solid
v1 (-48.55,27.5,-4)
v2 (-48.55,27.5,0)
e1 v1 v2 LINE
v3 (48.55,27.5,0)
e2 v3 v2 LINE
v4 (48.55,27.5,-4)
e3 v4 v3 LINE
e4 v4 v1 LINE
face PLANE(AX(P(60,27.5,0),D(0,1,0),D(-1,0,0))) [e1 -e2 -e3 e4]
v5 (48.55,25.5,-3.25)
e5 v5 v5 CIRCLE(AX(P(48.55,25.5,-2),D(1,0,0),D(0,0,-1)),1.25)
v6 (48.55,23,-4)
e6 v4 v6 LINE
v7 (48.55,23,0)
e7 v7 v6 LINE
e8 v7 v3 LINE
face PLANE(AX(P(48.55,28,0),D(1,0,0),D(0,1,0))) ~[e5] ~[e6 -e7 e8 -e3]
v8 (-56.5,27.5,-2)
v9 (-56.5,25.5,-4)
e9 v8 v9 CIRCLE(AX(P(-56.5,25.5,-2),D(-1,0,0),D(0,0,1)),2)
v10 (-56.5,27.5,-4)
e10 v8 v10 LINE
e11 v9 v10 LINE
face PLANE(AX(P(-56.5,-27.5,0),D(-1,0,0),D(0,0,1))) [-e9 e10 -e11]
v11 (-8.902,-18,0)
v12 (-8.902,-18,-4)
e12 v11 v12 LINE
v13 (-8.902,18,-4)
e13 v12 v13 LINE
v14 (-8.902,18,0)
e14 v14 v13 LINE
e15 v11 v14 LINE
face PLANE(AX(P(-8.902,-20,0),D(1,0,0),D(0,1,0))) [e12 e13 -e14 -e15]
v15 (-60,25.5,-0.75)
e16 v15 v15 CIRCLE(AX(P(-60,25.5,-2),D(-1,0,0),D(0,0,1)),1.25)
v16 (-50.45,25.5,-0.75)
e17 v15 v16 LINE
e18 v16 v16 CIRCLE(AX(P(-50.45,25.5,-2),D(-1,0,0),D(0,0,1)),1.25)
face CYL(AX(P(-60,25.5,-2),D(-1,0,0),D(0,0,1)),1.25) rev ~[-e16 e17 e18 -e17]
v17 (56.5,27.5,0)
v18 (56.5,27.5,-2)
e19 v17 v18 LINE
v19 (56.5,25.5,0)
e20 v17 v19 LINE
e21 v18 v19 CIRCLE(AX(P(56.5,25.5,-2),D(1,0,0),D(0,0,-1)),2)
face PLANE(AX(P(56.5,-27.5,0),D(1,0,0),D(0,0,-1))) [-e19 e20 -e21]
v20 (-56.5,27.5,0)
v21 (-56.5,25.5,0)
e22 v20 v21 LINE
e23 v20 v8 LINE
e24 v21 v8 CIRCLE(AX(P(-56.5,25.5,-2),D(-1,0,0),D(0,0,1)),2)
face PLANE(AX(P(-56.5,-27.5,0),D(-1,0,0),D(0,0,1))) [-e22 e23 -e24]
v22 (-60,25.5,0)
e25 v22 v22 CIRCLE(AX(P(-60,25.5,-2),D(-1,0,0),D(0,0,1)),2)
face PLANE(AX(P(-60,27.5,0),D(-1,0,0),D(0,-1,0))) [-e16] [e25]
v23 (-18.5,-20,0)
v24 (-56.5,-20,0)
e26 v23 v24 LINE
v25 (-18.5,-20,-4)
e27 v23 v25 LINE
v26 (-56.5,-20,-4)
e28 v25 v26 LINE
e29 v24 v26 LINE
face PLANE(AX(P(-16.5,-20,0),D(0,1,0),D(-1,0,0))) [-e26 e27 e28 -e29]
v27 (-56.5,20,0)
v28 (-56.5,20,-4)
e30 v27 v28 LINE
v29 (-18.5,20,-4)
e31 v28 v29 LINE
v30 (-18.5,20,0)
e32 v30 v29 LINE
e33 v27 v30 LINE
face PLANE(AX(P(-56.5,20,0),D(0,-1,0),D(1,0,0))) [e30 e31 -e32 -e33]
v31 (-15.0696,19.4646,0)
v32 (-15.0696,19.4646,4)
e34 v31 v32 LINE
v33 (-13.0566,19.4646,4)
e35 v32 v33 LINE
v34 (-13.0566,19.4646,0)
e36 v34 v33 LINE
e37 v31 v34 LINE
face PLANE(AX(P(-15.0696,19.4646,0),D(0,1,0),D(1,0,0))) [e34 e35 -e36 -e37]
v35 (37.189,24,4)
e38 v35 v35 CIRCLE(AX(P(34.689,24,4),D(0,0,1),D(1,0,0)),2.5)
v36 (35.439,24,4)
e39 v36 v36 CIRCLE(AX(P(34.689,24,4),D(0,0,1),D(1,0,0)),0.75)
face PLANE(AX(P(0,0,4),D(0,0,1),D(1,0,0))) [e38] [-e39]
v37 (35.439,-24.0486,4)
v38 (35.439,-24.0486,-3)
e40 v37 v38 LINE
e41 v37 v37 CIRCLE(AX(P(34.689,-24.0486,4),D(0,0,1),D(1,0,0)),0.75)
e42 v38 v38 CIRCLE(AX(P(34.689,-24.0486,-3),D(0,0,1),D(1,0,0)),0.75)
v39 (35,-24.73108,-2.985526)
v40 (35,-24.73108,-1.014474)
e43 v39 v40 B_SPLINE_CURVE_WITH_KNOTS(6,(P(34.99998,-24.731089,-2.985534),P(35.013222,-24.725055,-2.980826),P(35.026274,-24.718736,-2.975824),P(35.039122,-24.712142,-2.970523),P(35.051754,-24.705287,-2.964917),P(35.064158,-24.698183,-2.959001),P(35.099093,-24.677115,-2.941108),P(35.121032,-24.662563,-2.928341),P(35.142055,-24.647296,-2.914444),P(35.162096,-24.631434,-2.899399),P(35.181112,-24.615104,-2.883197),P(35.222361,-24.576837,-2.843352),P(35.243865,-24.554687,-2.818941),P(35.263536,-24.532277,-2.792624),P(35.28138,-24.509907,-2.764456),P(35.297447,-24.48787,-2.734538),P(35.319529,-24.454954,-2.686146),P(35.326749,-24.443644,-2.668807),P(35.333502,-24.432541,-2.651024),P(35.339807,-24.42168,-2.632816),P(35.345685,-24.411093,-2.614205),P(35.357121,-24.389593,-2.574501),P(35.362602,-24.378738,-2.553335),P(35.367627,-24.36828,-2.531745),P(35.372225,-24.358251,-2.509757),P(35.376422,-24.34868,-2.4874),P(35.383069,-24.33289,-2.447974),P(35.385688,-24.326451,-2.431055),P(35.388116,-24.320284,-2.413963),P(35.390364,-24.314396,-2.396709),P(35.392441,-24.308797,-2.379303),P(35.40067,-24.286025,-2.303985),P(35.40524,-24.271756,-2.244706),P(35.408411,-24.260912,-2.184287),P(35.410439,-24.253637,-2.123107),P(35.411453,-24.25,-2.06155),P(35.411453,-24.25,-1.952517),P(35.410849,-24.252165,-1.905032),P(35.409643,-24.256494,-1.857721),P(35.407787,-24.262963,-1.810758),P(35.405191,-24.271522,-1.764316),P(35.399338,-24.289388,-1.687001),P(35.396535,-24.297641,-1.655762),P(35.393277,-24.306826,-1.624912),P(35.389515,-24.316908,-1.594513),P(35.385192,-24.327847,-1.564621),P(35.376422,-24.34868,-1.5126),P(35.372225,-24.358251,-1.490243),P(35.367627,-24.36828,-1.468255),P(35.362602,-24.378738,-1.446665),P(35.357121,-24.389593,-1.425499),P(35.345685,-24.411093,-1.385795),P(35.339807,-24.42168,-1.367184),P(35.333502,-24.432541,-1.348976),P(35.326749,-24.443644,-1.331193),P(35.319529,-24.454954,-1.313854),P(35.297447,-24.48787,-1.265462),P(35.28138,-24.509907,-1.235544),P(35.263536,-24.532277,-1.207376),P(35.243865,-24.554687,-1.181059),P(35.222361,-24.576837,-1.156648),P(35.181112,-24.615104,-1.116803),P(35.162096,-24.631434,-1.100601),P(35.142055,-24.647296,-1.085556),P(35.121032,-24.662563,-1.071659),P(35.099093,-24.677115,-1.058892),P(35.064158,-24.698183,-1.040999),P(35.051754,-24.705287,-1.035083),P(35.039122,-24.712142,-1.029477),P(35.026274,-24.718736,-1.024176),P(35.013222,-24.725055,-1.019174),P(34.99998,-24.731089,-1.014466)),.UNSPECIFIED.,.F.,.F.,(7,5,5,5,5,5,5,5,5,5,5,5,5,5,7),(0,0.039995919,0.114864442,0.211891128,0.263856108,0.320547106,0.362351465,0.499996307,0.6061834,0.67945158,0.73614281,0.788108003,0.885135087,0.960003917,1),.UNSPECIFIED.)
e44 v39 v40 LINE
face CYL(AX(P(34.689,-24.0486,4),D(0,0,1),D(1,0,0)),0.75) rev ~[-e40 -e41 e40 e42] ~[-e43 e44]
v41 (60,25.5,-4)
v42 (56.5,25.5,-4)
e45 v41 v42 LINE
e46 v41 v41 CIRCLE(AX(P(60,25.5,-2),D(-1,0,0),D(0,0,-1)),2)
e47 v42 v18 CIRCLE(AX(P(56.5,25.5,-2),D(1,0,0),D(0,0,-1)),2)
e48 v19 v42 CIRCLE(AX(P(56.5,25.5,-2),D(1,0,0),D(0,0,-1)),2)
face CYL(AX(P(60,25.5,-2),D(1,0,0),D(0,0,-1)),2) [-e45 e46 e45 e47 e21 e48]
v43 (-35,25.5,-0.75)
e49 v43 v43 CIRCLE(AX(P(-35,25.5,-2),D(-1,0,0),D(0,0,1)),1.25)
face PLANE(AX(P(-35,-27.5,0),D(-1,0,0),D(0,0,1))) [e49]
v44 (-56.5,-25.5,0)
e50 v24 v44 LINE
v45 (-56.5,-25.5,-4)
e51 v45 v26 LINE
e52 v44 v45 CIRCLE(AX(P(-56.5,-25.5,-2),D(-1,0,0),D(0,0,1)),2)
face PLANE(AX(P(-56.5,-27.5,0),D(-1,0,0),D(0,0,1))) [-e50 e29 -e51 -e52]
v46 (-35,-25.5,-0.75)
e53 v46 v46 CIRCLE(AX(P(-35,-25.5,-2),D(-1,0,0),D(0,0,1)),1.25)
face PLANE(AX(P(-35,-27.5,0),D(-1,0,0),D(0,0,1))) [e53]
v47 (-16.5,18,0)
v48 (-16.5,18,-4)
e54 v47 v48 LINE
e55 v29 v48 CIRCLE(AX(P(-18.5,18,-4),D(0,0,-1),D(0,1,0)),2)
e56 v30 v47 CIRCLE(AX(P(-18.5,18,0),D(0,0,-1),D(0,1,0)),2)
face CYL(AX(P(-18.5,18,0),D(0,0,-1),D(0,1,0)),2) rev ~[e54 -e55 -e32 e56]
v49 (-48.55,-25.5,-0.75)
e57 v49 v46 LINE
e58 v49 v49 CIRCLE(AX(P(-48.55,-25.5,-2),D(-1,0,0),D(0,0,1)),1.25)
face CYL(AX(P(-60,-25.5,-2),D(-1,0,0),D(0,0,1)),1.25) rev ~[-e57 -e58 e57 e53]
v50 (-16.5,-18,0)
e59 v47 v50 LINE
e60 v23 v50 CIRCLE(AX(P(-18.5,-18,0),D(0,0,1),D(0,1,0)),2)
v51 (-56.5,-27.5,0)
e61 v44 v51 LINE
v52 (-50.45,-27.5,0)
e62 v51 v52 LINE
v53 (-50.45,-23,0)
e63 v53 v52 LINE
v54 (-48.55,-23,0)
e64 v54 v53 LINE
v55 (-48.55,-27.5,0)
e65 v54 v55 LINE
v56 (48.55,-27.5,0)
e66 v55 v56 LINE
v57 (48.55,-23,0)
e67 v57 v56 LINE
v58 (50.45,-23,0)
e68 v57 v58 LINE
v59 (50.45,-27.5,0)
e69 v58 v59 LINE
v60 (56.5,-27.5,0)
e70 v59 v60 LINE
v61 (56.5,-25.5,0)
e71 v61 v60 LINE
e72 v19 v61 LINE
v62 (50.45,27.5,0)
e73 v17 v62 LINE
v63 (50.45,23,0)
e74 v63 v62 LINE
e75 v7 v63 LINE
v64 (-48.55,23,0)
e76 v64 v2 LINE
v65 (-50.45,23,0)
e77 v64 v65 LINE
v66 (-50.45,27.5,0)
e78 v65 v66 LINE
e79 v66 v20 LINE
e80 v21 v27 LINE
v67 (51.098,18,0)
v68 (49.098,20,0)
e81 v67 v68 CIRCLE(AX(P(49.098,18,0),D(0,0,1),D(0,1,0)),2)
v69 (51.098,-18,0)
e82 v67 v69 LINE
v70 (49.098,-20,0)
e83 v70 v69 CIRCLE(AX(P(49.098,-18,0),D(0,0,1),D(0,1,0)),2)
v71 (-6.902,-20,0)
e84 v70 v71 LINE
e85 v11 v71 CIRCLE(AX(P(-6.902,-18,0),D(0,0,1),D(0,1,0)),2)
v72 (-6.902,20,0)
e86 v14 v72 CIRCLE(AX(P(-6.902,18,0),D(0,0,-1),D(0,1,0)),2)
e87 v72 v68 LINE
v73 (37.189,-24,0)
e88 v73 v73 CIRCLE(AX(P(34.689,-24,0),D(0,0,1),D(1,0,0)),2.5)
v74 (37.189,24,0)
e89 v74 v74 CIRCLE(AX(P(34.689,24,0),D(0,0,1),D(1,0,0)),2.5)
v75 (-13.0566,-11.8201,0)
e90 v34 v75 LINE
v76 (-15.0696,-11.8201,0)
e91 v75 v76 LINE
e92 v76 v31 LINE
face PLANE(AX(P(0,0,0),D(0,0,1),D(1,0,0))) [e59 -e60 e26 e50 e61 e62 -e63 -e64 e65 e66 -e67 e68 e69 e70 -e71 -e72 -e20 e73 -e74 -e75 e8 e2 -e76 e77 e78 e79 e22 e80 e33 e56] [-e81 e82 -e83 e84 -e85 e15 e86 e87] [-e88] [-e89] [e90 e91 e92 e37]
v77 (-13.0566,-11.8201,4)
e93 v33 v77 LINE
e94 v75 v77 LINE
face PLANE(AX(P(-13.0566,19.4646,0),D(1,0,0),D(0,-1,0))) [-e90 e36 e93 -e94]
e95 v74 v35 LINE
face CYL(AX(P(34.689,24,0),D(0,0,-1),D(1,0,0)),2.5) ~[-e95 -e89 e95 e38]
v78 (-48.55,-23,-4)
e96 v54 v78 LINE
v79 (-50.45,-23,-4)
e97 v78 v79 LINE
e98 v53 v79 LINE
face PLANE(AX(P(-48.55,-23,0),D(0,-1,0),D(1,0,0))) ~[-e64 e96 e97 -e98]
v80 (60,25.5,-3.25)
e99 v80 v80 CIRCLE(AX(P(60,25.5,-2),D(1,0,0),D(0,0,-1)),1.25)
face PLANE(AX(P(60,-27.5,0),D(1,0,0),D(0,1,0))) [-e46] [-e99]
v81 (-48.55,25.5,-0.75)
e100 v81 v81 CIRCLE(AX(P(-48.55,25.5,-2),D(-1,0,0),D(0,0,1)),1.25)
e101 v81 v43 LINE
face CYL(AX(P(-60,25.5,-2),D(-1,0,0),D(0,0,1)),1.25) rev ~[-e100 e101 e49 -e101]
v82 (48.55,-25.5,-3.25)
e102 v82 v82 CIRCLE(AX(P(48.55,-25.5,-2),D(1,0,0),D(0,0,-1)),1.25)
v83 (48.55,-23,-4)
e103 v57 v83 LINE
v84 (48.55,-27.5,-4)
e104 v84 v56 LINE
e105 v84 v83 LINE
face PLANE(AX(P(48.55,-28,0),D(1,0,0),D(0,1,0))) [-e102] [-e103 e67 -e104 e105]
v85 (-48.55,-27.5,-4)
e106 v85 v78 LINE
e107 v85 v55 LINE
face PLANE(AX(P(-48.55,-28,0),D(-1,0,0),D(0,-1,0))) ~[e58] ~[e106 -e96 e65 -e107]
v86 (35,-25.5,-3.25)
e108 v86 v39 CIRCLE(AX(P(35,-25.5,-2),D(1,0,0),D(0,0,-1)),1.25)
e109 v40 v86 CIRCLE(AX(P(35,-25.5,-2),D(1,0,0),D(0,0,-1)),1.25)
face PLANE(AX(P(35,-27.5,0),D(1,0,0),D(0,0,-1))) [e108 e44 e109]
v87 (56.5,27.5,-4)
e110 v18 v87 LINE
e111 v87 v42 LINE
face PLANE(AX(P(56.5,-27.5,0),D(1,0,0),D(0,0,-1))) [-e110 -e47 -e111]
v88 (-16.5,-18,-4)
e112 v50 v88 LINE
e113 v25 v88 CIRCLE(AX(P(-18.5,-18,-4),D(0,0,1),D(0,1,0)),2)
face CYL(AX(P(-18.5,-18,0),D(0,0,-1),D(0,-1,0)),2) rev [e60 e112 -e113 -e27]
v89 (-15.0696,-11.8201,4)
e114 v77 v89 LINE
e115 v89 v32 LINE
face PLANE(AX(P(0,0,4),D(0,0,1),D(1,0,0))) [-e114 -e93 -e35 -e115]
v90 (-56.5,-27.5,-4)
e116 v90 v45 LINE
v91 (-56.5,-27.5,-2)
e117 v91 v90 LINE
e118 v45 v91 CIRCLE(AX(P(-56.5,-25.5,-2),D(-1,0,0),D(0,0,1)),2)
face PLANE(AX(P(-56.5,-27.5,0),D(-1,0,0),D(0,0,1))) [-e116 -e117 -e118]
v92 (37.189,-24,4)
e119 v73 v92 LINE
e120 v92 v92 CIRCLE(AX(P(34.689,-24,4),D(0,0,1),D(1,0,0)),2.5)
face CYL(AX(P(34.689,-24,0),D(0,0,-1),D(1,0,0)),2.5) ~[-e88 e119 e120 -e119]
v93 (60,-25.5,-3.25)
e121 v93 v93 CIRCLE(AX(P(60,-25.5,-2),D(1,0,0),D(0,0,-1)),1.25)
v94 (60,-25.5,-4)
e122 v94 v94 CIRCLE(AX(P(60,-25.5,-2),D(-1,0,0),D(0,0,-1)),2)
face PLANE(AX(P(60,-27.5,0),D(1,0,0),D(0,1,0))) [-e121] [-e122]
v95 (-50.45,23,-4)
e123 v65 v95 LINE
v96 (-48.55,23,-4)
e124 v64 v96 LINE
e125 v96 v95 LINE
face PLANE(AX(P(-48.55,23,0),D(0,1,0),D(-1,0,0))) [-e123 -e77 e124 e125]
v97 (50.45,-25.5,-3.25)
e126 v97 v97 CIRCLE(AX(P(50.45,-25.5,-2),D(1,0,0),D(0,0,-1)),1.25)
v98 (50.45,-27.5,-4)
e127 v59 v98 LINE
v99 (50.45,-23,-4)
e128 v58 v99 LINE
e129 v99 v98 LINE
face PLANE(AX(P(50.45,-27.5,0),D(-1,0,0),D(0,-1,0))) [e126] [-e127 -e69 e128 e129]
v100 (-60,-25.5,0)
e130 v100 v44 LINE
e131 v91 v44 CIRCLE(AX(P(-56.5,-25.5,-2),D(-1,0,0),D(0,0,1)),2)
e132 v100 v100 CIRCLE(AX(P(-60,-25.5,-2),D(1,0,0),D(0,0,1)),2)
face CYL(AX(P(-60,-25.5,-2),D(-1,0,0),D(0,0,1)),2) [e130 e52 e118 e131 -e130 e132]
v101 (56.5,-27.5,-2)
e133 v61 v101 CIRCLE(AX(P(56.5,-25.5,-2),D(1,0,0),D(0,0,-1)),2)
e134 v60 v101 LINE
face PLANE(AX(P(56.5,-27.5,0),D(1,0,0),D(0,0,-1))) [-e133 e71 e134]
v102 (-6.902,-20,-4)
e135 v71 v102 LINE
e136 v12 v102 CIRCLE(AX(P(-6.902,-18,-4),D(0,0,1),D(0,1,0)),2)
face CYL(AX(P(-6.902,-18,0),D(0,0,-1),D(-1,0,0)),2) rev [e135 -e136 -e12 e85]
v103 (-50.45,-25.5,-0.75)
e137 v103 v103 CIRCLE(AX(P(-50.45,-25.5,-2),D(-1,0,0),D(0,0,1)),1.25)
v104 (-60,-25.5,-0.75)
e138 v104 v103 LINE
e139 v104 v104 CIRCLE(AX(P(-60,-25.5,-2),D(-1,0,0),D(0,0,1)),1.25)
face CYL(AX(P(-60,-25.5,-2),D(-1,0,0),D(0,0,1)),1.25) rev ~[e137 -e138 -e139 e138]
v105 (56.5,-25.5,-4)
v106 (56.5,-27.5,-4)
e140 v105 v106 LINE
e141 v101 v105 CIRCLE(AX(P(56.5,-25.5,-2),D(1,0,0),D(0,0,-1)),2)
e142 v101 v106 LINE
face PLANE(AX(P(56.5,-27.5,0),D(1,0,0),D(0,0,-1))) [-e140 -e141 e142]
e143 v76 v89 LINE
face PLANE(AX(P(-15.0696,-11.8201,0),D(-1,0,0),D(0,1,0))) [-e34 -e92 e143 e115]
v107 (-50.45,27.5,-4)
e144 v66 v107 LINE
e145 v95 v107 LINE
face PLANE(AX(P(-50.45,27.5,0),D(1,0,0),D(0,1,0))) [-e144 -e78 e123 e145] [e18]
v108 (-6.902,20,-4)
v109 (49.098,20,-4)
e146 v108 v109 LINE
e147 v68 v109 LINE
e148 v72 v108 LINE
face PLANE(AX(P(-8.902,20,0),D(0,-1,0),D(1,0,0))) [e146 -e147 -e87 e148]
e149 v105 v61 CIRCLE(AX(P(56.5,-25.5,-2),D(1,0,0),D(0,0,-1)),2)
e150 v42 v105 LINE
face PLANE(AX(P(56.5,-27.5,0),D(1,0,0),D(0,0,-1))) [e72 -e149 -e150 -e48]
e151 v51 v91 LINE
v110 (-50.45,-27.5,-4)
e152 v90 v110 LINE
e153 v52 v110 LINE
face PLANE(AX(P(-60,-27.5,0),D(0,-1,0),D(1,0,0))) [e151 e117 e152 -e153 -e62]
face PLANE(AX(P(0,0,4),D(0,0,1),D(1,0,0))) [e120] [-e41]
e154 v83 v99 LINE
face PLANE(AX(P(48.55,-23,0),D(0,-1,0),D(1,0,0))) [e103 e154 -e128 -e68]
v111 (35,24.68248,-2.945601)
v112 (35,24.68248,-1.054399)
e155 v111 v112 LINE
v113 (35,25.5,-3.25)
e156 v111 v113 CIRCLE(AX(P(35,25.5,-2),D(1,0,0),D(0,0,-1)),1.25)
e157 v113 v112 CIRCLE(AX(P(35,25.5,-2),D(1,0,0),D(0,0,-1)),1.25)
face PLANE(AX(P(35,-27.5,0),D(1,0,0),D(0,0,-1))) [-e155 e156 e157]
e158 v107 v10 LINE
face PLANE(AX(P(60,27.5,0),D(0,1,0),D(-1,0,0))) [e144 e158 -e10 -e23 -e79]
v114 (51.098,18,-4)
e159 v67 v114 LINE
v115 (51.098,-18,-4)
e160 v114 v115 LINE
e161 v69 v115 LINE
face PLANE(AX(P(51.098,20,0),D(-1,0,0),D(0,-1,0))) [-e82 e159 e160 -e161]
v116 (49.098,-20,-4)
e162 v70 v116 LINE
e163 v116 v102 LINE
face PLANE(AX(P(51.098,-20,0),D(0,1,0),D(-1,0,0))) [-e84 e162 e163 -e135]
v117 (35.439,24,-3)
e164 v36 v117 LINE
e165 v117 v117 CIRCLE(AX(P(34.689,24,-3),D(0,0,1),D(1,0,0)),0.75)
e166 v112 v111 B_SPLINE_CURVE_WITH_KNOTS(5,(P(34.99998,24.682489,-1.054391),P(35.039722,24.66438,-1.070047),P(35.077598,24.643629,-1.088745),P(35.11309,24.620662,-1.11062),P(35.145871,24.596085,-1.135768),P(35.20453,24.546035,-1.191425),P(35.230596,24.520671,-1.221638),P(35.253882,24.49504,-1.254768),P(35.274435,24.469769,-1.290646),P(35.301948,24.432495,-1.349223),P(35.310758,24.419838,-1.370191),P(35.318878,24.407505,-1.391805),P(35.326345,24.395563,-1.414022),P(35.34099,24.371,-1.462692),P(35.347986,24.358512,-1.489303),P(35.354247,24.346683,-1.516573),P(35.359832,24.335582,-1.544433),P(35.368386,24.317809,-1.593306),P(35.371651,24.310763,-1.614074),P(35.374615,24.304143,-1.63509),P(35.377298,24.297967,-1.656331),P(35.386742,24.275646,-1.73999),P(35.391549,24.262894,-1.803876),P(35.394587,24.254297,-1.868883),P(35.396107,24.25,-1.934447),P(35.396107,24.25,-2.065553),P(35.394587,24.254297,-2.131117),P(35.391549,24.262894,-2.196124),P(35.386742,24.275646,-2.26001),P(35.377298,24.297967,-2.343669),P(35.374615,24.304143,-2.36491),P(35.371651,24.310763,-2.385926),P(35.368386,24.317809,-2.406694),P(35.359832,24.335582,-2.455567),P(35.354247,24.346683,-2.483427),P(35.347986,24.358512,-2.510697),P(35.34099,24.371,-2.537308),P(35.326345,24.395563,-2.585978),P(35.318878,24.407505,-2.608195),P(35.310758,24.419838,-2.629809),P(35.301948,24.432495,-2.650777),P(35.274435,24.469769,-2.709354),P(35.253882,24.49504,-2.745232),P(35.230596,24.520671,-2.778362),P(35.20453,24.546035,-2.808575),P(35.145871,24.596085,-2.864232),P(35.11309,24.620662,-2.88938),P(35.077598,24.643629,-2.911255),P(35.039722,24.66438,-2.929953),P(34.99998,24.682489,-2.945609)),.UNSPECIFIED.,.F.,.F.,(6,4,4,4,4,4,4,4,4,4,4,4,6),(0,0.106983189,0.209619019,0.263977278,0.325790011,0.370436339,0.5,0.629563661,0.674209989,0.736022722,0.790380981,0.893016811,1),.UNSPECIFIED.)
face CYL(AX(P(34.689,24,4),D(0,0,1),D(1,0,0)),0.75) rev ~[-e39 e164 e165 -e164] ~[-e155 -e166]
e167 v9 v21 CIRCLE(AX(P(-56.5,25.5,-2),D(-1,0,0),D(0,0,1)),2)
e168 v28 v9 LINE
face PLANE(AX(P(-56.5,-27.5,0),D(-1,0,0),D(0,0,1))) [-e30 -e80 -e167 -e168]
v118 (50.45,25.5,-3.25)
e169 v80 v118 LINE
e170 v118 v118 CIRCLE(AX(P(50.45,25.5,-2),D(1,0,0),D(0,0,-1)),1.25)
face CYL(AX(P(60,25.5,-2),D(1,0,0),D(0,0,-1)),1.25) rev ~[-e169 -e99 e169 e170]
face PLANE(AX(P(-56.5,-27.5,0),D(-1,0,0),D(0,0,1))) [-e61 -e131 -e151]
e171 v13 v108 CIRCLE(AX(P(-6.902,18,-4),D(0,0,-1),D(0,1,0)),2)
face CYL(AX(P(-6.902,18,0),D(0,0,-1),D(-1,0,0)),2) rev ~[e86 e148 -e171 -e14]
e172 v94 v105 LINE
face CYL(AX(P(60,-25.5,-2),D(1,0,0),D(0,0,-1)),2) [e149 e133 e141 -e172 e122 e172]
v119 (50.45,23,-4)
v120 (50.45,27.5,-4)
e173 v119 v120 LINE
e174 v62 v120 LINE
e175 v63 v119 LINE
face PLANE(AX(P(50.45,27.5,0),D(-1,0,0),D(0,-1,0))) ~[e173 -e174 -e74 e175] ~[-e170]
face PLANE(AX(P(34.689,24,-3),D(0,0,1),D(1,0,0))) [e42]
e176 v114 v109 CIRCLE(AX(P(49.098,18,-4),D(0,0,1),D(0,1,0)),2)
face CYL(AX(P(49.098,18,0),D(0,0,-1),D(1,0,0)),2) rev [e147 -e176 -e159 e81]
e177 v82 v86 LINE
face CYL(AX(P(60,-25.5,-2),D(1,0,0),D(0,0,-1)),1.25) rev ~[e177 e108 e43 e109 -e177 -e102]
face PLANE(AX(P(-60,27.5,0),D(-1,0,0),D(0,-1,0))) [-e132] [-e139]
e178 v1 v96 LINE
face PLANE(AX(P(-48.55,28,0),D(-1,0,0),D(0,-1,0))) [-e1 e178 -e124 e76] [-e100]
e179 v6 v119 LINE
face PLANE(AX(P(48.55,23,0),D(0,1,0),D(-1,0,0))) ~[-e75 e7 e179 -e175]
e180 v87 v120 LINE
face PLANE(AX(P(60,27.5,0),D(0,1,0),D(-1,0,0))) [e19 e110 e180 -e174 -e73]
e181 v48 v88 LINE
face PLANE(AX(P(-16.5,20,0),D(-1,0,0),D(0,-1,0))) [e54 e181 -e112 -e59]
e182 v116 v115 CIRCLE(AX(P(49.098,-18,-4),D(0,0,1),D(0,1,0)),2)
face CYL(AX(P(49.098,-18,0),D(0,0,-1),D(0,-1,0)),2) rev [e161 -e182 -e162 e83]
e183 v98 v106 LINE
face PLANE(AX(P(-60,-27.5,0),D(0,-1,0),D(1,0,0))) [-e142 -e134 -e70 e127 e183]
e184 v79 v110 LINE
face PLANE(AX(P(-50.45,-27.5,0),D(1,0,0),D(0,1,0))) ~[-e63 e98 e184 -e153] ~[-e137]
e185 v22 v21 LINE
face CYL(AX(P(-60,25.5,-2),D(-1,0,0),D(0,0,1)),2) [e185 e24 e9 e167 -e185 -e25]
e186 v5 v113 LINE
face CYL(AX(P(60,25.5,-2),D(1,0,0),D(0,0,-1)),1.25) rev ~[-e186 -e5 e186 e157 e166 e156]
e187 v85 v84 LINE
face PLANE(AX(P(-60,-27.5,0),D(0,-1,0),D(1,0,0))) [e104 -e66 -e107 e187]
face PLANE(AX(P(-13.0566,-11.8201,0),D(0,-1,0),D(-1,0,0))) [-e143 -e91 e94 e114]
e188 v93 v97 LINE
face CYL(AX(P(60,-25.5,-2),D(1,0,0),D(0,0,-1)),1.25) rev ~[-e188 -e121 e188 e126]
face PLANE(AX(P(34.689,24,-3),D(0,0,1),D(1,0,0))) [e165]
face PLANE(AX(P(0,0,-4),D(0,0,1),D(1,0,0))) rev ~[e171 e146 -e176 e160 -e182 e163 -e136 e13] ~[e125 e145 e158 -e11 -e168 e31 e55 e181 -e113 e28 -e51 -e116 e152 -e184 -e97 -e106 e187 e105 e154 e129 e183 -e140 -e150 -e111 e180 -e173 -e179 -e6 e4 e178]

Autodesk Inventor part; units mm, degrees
ref_plane "YZ Plane" through (0, 0, 0) normal (1, 0, 0) x (0, 1, 0)
sketch "Sketch1" plane through (0, 0, 0) normal (0, 0, 1) x (1, 0, 0)
  line L0 (-60, -27.5) -> (60, -27.5)
  line L1 (60, -27.5) -> (60, 27.5)
  line L2 (60, 27.5) -> (-60, 27.5)
  line L3 (-60, 27.5) -> (-60, -27.5)
  line L4 (-60, -27.5) -> (60, 27.5) construction
  line L5 (60, -27.5) -> (-60, 27.5) construction
  point P0 (0, 0)
  dimension "d0" = 120
  dimension "d1" = 55
extrude "Extrusion1" add sketch "Sketch1" against normal blind 4
sketch "Sketch2" plane through (60, -27.5, 0) normal (1, 0, 0) x (0, 0, -1)
  circle A0 centre (2, 2) radius 2
  line L0 (0, 0) -> (4, 0) projected
  line L1 (4, 55) -> (4, 0) projected
  circle A1 centre (2, 2) radius 1.25
  circle A2 centre (2, 53) radius 2
  line L2 (0, 55) -> (4, 55) projected
  circle A3 centre (2, 53) radius 1.25
  line L3 (0, 55) -> (0, 0) projected
  line L4 (0, 55) -> (4, 55)
  line L5 (4, 55) -> (4, 0)
  line L6 (4, 0) -> (0, 0)
  line L7 (0, 0) -> (0, 55)
  point P0 (0, 27.5)
  dimension "d4" = 4
  dimension "d5" = 2.5
  dimension "d6" = 4
  dimension "d7" = 2.5
extrude "Extrusion2" cut sketch "Sketch2" against normal blind 3.5 contours L1 L0 A0 | A0 L3 A2 L1 | A0 L0 L3 | A2 L2 L1 | L3 L2 A2
extrude "Extrusion3" cut sketch "Sketch2" against normal blind 25 contours A1
extrude "Extrusion4" cut sketch "Sketch2" against normal blind 25 contours A3
sketch "Sketch3" plane through (-60, -27.5, 0) normal (-1, 0, 0) x (0, 0, 1)
  circle A0 centre (-2, 2) radius 2
  circle A1 centre (-2, 53) radius 2
  line L0 (0, 0) -> (-4, 0) projected
  line L1 (-4, 0) -> (-4, 55) projected
  line L2 (0, 55) -> (-4, 55) projected
  line L3 (0, 55) -> (0, 0) projected
  line L4 (-4, 0) -> (0, 0)
  line L5 (0, 0) -> (0, 55)
  line L6 (0, 55) -> (-4, 55)
  line L7 (-4, 55) -> (-4, 0)
  circle A2 centre (-2, 2) radius 1.25 projected
  circle A3 centre (-2, 2) radius 1.25
  circle A4 centre (-2, 53) radius 1.25 projected
  circle A5 centre (-2, 53) radius 1.25
  point P0 (0, 27.5)
  dimension "d14" = 4
  dimension "d15" = 4
  dimension "d16" = 2.5
  dimension "d17" = 2.5
extrude "Extrusion5" cut sketch "Sketch3" against normal blind 3.5 contours L3 L0 A0 | A0 L1 A1 L3 | A0 L0 L1 | A1 L2 L3 | L1 L2 A1
extrude "Extrusion6" cut sketch "Sketch3" against normal blind 25 contours A4
extrude "Extrusion7" cut sketch "Sketch3" against normal blind 25 contours A2
sketch "Sketch4" plane through (0, 0, 0) normal (0, 0, 1) x (1, 0, 0)
  line L0 (-56.5, 27.5) -> (56.5, 27.5) projected
  line L1 (56.5, -27.5) -> (-56.5, -27.5) projected
  line L2 (-56.5, 27.5) -> (56.5, 27.5)
  line L3 (56.5, 27.5) -> (56.5, -27.5)
  line L4 (56.5, -27.5) -> (-56.5, -27.5)
  line L5 (-56.5, -27.5) -> (-56.5, 27.5)
  line L6 (-73.441, 25.5) -> (75.6749, 25.5) construction
  line L7 (-49.5, 37.9771) -> (-49.5, -42.6684) construction
  line L8 (-50.45, 28) -> (-48.55, 28)
  line L9 (-48.55, 28) -> (-48.55, 23)
  line L10 (-48.55, 23) -> (-50.45, 23)
  line L11 (-50.45, 23) -> (-50.45, 28)
  line L12 (-50.45, 28) -> (-48.55, 23) construction
  line L13 (-48.55, 28) -> (-50.45, 23) construction
  point P0 (0, 0)
  point P1 (-49.5, 25.5)
  dimension "d24" = 2
  dimension "d25" = 7
  dimension "d26" = 1.9
  dimension "d27" = 5
extrude "Extrusion8" cut sketch "Sketch4" against normal blind 25 contours L11 L8 L9 L0 | L0 L9 L10 L11
ref_plane "Work Plane1" through (0, -27.5, 0) normal (1, 0, 0) x (0, 0, -1)
ref_plane "Work Plane2" through (-48.55, 0, 0) normal (0, 1, 0) x (1, 0, 0)
mirror "Mirror1" about plane through (0, -27.5, 0) normal (1, 0, 0) of "Extrusion8"
mirror "Mirror3" about plane through (-48.55, 0, 0) normal (0, 1, 0) of "Extrusion8", "Mirror1"
sketch "Sketch5" plane through (0, 0, 0) normal (0, 0, 1) x (1, 0, 0)
  line L0 (-20.311, 26.3647) -> (47.689, 26.3647) construction
  line L1 (47.689, 26.3647) -> (47.689, -26.6353) construction
  line L2 (47.689, -26.6353) -> (-20.311, -26.6353) construction
  line L3 (-20.311, -26.6353) -> (-20.311, 26.3647) construction
  line L4 (34.689, 35.6432) -> (34.689, -53.7477) construction
  line L5 (-67.7221, 24) -> (59.2356, 24) construction
  line L6 (-64.2143, -24) -> (60.4803, -24) construction
  line L7 (-93.3625, 0) -> (86.1208, 0) construction
  circle A0 centre (34.689, 24) radius 2.5
  circle A1 centre (34.689, -24) radius 2.5
  line L8 (-15.0696, 19.4646) -> (-13.0566, 19.4646)
  line L9 (-13.0566, 19.4646) -> (-13.0566, -11.8201)
  line L10 (-13.0566, -11.8201) -> (-15.0696, -11.8201)
  line L11 (-15.0696, -11.8201) -> (-15.0696, 19.4646)
  circle A2 centre (34.689, 24) radius 0.75
  circle A3 centre (34.689, -24) radius 0.75
  point P0 (0, 0)
  dimension "d30" = 68
  dimension "d31" = 53
  dimension "d32" = 13
  dimension "d34" = 48
  dimension "d35" = 24
  dimension "d36" = 5
  dimension "d37" = 5
  dimension "d42" = 1.5
  dimension "d43" = 1.5
extrude "Extrusion9" add sketch "Sketch5" along normal blind 4 contours A0 | A1 | A2 | A3
extrude "Extrusion10" add sketch "Sketch5" along normal blind 4 contours L8 L9 L10 L11
sketch "Sketch6" plane through (34.689, 24, 4) normal (0, 0, 1) x (1, 0, 0)
  circle A0 centre (0, 0) radius 0.75
  circle A1 centre (0, -48.0486) radius 0.75
  point P0 (-34.689, -24)
  dimension "d44" = 1.5
  dimension "d45" = 1.5
extrude "Extrusion11" cut sketch "Sketch6" against normal blind 7
sketch "Sketch7" plane through (0, 0, 0) normal (0, 0, 1) x (1, 0, 0)
  line L0 (-56.5, -25.5) -> (-56.5, 25.5) projected
  line L1 (-56.5, 20) -> (-16.5, 20)
  line L2 (-16.5, 20) -> (-16.5, -20)
  line L3 (-16.5, -20) -> (-56.5, -20)
  line L4 (-56.5, -20) -> (-56.5, 20)
  line L5 (48.55, 27.5) -> (-48.55, 27.5) projected
  line L6 (-8.902, 20) -> (51.098, 20)
  line L7 (51.098, 20) -> (51.098, -20)
  line L8 (51.098, -20) -> (-8.902, -20)
  line L9 (-8.902, -20) -> (-8.902, 20)
  point P0 (0, 0)
  dimension "d48" = 40
  dimension "d49" = 40
  dimension "d50" = 7.5
  dimension "d51" = 60
extrude "Extrusion12" cut sketch "Sketch7" against normal blind 7
fillet "Fillet1" radius 2 6 edges at (-16.5, -20, -2) (-16.5, 20, -2) (-8.902, 20, -2) (-8.902, -20, -2) (51.098, 20, -2) (51.098, -20, -2)
properties part number "Drivercarrier"
